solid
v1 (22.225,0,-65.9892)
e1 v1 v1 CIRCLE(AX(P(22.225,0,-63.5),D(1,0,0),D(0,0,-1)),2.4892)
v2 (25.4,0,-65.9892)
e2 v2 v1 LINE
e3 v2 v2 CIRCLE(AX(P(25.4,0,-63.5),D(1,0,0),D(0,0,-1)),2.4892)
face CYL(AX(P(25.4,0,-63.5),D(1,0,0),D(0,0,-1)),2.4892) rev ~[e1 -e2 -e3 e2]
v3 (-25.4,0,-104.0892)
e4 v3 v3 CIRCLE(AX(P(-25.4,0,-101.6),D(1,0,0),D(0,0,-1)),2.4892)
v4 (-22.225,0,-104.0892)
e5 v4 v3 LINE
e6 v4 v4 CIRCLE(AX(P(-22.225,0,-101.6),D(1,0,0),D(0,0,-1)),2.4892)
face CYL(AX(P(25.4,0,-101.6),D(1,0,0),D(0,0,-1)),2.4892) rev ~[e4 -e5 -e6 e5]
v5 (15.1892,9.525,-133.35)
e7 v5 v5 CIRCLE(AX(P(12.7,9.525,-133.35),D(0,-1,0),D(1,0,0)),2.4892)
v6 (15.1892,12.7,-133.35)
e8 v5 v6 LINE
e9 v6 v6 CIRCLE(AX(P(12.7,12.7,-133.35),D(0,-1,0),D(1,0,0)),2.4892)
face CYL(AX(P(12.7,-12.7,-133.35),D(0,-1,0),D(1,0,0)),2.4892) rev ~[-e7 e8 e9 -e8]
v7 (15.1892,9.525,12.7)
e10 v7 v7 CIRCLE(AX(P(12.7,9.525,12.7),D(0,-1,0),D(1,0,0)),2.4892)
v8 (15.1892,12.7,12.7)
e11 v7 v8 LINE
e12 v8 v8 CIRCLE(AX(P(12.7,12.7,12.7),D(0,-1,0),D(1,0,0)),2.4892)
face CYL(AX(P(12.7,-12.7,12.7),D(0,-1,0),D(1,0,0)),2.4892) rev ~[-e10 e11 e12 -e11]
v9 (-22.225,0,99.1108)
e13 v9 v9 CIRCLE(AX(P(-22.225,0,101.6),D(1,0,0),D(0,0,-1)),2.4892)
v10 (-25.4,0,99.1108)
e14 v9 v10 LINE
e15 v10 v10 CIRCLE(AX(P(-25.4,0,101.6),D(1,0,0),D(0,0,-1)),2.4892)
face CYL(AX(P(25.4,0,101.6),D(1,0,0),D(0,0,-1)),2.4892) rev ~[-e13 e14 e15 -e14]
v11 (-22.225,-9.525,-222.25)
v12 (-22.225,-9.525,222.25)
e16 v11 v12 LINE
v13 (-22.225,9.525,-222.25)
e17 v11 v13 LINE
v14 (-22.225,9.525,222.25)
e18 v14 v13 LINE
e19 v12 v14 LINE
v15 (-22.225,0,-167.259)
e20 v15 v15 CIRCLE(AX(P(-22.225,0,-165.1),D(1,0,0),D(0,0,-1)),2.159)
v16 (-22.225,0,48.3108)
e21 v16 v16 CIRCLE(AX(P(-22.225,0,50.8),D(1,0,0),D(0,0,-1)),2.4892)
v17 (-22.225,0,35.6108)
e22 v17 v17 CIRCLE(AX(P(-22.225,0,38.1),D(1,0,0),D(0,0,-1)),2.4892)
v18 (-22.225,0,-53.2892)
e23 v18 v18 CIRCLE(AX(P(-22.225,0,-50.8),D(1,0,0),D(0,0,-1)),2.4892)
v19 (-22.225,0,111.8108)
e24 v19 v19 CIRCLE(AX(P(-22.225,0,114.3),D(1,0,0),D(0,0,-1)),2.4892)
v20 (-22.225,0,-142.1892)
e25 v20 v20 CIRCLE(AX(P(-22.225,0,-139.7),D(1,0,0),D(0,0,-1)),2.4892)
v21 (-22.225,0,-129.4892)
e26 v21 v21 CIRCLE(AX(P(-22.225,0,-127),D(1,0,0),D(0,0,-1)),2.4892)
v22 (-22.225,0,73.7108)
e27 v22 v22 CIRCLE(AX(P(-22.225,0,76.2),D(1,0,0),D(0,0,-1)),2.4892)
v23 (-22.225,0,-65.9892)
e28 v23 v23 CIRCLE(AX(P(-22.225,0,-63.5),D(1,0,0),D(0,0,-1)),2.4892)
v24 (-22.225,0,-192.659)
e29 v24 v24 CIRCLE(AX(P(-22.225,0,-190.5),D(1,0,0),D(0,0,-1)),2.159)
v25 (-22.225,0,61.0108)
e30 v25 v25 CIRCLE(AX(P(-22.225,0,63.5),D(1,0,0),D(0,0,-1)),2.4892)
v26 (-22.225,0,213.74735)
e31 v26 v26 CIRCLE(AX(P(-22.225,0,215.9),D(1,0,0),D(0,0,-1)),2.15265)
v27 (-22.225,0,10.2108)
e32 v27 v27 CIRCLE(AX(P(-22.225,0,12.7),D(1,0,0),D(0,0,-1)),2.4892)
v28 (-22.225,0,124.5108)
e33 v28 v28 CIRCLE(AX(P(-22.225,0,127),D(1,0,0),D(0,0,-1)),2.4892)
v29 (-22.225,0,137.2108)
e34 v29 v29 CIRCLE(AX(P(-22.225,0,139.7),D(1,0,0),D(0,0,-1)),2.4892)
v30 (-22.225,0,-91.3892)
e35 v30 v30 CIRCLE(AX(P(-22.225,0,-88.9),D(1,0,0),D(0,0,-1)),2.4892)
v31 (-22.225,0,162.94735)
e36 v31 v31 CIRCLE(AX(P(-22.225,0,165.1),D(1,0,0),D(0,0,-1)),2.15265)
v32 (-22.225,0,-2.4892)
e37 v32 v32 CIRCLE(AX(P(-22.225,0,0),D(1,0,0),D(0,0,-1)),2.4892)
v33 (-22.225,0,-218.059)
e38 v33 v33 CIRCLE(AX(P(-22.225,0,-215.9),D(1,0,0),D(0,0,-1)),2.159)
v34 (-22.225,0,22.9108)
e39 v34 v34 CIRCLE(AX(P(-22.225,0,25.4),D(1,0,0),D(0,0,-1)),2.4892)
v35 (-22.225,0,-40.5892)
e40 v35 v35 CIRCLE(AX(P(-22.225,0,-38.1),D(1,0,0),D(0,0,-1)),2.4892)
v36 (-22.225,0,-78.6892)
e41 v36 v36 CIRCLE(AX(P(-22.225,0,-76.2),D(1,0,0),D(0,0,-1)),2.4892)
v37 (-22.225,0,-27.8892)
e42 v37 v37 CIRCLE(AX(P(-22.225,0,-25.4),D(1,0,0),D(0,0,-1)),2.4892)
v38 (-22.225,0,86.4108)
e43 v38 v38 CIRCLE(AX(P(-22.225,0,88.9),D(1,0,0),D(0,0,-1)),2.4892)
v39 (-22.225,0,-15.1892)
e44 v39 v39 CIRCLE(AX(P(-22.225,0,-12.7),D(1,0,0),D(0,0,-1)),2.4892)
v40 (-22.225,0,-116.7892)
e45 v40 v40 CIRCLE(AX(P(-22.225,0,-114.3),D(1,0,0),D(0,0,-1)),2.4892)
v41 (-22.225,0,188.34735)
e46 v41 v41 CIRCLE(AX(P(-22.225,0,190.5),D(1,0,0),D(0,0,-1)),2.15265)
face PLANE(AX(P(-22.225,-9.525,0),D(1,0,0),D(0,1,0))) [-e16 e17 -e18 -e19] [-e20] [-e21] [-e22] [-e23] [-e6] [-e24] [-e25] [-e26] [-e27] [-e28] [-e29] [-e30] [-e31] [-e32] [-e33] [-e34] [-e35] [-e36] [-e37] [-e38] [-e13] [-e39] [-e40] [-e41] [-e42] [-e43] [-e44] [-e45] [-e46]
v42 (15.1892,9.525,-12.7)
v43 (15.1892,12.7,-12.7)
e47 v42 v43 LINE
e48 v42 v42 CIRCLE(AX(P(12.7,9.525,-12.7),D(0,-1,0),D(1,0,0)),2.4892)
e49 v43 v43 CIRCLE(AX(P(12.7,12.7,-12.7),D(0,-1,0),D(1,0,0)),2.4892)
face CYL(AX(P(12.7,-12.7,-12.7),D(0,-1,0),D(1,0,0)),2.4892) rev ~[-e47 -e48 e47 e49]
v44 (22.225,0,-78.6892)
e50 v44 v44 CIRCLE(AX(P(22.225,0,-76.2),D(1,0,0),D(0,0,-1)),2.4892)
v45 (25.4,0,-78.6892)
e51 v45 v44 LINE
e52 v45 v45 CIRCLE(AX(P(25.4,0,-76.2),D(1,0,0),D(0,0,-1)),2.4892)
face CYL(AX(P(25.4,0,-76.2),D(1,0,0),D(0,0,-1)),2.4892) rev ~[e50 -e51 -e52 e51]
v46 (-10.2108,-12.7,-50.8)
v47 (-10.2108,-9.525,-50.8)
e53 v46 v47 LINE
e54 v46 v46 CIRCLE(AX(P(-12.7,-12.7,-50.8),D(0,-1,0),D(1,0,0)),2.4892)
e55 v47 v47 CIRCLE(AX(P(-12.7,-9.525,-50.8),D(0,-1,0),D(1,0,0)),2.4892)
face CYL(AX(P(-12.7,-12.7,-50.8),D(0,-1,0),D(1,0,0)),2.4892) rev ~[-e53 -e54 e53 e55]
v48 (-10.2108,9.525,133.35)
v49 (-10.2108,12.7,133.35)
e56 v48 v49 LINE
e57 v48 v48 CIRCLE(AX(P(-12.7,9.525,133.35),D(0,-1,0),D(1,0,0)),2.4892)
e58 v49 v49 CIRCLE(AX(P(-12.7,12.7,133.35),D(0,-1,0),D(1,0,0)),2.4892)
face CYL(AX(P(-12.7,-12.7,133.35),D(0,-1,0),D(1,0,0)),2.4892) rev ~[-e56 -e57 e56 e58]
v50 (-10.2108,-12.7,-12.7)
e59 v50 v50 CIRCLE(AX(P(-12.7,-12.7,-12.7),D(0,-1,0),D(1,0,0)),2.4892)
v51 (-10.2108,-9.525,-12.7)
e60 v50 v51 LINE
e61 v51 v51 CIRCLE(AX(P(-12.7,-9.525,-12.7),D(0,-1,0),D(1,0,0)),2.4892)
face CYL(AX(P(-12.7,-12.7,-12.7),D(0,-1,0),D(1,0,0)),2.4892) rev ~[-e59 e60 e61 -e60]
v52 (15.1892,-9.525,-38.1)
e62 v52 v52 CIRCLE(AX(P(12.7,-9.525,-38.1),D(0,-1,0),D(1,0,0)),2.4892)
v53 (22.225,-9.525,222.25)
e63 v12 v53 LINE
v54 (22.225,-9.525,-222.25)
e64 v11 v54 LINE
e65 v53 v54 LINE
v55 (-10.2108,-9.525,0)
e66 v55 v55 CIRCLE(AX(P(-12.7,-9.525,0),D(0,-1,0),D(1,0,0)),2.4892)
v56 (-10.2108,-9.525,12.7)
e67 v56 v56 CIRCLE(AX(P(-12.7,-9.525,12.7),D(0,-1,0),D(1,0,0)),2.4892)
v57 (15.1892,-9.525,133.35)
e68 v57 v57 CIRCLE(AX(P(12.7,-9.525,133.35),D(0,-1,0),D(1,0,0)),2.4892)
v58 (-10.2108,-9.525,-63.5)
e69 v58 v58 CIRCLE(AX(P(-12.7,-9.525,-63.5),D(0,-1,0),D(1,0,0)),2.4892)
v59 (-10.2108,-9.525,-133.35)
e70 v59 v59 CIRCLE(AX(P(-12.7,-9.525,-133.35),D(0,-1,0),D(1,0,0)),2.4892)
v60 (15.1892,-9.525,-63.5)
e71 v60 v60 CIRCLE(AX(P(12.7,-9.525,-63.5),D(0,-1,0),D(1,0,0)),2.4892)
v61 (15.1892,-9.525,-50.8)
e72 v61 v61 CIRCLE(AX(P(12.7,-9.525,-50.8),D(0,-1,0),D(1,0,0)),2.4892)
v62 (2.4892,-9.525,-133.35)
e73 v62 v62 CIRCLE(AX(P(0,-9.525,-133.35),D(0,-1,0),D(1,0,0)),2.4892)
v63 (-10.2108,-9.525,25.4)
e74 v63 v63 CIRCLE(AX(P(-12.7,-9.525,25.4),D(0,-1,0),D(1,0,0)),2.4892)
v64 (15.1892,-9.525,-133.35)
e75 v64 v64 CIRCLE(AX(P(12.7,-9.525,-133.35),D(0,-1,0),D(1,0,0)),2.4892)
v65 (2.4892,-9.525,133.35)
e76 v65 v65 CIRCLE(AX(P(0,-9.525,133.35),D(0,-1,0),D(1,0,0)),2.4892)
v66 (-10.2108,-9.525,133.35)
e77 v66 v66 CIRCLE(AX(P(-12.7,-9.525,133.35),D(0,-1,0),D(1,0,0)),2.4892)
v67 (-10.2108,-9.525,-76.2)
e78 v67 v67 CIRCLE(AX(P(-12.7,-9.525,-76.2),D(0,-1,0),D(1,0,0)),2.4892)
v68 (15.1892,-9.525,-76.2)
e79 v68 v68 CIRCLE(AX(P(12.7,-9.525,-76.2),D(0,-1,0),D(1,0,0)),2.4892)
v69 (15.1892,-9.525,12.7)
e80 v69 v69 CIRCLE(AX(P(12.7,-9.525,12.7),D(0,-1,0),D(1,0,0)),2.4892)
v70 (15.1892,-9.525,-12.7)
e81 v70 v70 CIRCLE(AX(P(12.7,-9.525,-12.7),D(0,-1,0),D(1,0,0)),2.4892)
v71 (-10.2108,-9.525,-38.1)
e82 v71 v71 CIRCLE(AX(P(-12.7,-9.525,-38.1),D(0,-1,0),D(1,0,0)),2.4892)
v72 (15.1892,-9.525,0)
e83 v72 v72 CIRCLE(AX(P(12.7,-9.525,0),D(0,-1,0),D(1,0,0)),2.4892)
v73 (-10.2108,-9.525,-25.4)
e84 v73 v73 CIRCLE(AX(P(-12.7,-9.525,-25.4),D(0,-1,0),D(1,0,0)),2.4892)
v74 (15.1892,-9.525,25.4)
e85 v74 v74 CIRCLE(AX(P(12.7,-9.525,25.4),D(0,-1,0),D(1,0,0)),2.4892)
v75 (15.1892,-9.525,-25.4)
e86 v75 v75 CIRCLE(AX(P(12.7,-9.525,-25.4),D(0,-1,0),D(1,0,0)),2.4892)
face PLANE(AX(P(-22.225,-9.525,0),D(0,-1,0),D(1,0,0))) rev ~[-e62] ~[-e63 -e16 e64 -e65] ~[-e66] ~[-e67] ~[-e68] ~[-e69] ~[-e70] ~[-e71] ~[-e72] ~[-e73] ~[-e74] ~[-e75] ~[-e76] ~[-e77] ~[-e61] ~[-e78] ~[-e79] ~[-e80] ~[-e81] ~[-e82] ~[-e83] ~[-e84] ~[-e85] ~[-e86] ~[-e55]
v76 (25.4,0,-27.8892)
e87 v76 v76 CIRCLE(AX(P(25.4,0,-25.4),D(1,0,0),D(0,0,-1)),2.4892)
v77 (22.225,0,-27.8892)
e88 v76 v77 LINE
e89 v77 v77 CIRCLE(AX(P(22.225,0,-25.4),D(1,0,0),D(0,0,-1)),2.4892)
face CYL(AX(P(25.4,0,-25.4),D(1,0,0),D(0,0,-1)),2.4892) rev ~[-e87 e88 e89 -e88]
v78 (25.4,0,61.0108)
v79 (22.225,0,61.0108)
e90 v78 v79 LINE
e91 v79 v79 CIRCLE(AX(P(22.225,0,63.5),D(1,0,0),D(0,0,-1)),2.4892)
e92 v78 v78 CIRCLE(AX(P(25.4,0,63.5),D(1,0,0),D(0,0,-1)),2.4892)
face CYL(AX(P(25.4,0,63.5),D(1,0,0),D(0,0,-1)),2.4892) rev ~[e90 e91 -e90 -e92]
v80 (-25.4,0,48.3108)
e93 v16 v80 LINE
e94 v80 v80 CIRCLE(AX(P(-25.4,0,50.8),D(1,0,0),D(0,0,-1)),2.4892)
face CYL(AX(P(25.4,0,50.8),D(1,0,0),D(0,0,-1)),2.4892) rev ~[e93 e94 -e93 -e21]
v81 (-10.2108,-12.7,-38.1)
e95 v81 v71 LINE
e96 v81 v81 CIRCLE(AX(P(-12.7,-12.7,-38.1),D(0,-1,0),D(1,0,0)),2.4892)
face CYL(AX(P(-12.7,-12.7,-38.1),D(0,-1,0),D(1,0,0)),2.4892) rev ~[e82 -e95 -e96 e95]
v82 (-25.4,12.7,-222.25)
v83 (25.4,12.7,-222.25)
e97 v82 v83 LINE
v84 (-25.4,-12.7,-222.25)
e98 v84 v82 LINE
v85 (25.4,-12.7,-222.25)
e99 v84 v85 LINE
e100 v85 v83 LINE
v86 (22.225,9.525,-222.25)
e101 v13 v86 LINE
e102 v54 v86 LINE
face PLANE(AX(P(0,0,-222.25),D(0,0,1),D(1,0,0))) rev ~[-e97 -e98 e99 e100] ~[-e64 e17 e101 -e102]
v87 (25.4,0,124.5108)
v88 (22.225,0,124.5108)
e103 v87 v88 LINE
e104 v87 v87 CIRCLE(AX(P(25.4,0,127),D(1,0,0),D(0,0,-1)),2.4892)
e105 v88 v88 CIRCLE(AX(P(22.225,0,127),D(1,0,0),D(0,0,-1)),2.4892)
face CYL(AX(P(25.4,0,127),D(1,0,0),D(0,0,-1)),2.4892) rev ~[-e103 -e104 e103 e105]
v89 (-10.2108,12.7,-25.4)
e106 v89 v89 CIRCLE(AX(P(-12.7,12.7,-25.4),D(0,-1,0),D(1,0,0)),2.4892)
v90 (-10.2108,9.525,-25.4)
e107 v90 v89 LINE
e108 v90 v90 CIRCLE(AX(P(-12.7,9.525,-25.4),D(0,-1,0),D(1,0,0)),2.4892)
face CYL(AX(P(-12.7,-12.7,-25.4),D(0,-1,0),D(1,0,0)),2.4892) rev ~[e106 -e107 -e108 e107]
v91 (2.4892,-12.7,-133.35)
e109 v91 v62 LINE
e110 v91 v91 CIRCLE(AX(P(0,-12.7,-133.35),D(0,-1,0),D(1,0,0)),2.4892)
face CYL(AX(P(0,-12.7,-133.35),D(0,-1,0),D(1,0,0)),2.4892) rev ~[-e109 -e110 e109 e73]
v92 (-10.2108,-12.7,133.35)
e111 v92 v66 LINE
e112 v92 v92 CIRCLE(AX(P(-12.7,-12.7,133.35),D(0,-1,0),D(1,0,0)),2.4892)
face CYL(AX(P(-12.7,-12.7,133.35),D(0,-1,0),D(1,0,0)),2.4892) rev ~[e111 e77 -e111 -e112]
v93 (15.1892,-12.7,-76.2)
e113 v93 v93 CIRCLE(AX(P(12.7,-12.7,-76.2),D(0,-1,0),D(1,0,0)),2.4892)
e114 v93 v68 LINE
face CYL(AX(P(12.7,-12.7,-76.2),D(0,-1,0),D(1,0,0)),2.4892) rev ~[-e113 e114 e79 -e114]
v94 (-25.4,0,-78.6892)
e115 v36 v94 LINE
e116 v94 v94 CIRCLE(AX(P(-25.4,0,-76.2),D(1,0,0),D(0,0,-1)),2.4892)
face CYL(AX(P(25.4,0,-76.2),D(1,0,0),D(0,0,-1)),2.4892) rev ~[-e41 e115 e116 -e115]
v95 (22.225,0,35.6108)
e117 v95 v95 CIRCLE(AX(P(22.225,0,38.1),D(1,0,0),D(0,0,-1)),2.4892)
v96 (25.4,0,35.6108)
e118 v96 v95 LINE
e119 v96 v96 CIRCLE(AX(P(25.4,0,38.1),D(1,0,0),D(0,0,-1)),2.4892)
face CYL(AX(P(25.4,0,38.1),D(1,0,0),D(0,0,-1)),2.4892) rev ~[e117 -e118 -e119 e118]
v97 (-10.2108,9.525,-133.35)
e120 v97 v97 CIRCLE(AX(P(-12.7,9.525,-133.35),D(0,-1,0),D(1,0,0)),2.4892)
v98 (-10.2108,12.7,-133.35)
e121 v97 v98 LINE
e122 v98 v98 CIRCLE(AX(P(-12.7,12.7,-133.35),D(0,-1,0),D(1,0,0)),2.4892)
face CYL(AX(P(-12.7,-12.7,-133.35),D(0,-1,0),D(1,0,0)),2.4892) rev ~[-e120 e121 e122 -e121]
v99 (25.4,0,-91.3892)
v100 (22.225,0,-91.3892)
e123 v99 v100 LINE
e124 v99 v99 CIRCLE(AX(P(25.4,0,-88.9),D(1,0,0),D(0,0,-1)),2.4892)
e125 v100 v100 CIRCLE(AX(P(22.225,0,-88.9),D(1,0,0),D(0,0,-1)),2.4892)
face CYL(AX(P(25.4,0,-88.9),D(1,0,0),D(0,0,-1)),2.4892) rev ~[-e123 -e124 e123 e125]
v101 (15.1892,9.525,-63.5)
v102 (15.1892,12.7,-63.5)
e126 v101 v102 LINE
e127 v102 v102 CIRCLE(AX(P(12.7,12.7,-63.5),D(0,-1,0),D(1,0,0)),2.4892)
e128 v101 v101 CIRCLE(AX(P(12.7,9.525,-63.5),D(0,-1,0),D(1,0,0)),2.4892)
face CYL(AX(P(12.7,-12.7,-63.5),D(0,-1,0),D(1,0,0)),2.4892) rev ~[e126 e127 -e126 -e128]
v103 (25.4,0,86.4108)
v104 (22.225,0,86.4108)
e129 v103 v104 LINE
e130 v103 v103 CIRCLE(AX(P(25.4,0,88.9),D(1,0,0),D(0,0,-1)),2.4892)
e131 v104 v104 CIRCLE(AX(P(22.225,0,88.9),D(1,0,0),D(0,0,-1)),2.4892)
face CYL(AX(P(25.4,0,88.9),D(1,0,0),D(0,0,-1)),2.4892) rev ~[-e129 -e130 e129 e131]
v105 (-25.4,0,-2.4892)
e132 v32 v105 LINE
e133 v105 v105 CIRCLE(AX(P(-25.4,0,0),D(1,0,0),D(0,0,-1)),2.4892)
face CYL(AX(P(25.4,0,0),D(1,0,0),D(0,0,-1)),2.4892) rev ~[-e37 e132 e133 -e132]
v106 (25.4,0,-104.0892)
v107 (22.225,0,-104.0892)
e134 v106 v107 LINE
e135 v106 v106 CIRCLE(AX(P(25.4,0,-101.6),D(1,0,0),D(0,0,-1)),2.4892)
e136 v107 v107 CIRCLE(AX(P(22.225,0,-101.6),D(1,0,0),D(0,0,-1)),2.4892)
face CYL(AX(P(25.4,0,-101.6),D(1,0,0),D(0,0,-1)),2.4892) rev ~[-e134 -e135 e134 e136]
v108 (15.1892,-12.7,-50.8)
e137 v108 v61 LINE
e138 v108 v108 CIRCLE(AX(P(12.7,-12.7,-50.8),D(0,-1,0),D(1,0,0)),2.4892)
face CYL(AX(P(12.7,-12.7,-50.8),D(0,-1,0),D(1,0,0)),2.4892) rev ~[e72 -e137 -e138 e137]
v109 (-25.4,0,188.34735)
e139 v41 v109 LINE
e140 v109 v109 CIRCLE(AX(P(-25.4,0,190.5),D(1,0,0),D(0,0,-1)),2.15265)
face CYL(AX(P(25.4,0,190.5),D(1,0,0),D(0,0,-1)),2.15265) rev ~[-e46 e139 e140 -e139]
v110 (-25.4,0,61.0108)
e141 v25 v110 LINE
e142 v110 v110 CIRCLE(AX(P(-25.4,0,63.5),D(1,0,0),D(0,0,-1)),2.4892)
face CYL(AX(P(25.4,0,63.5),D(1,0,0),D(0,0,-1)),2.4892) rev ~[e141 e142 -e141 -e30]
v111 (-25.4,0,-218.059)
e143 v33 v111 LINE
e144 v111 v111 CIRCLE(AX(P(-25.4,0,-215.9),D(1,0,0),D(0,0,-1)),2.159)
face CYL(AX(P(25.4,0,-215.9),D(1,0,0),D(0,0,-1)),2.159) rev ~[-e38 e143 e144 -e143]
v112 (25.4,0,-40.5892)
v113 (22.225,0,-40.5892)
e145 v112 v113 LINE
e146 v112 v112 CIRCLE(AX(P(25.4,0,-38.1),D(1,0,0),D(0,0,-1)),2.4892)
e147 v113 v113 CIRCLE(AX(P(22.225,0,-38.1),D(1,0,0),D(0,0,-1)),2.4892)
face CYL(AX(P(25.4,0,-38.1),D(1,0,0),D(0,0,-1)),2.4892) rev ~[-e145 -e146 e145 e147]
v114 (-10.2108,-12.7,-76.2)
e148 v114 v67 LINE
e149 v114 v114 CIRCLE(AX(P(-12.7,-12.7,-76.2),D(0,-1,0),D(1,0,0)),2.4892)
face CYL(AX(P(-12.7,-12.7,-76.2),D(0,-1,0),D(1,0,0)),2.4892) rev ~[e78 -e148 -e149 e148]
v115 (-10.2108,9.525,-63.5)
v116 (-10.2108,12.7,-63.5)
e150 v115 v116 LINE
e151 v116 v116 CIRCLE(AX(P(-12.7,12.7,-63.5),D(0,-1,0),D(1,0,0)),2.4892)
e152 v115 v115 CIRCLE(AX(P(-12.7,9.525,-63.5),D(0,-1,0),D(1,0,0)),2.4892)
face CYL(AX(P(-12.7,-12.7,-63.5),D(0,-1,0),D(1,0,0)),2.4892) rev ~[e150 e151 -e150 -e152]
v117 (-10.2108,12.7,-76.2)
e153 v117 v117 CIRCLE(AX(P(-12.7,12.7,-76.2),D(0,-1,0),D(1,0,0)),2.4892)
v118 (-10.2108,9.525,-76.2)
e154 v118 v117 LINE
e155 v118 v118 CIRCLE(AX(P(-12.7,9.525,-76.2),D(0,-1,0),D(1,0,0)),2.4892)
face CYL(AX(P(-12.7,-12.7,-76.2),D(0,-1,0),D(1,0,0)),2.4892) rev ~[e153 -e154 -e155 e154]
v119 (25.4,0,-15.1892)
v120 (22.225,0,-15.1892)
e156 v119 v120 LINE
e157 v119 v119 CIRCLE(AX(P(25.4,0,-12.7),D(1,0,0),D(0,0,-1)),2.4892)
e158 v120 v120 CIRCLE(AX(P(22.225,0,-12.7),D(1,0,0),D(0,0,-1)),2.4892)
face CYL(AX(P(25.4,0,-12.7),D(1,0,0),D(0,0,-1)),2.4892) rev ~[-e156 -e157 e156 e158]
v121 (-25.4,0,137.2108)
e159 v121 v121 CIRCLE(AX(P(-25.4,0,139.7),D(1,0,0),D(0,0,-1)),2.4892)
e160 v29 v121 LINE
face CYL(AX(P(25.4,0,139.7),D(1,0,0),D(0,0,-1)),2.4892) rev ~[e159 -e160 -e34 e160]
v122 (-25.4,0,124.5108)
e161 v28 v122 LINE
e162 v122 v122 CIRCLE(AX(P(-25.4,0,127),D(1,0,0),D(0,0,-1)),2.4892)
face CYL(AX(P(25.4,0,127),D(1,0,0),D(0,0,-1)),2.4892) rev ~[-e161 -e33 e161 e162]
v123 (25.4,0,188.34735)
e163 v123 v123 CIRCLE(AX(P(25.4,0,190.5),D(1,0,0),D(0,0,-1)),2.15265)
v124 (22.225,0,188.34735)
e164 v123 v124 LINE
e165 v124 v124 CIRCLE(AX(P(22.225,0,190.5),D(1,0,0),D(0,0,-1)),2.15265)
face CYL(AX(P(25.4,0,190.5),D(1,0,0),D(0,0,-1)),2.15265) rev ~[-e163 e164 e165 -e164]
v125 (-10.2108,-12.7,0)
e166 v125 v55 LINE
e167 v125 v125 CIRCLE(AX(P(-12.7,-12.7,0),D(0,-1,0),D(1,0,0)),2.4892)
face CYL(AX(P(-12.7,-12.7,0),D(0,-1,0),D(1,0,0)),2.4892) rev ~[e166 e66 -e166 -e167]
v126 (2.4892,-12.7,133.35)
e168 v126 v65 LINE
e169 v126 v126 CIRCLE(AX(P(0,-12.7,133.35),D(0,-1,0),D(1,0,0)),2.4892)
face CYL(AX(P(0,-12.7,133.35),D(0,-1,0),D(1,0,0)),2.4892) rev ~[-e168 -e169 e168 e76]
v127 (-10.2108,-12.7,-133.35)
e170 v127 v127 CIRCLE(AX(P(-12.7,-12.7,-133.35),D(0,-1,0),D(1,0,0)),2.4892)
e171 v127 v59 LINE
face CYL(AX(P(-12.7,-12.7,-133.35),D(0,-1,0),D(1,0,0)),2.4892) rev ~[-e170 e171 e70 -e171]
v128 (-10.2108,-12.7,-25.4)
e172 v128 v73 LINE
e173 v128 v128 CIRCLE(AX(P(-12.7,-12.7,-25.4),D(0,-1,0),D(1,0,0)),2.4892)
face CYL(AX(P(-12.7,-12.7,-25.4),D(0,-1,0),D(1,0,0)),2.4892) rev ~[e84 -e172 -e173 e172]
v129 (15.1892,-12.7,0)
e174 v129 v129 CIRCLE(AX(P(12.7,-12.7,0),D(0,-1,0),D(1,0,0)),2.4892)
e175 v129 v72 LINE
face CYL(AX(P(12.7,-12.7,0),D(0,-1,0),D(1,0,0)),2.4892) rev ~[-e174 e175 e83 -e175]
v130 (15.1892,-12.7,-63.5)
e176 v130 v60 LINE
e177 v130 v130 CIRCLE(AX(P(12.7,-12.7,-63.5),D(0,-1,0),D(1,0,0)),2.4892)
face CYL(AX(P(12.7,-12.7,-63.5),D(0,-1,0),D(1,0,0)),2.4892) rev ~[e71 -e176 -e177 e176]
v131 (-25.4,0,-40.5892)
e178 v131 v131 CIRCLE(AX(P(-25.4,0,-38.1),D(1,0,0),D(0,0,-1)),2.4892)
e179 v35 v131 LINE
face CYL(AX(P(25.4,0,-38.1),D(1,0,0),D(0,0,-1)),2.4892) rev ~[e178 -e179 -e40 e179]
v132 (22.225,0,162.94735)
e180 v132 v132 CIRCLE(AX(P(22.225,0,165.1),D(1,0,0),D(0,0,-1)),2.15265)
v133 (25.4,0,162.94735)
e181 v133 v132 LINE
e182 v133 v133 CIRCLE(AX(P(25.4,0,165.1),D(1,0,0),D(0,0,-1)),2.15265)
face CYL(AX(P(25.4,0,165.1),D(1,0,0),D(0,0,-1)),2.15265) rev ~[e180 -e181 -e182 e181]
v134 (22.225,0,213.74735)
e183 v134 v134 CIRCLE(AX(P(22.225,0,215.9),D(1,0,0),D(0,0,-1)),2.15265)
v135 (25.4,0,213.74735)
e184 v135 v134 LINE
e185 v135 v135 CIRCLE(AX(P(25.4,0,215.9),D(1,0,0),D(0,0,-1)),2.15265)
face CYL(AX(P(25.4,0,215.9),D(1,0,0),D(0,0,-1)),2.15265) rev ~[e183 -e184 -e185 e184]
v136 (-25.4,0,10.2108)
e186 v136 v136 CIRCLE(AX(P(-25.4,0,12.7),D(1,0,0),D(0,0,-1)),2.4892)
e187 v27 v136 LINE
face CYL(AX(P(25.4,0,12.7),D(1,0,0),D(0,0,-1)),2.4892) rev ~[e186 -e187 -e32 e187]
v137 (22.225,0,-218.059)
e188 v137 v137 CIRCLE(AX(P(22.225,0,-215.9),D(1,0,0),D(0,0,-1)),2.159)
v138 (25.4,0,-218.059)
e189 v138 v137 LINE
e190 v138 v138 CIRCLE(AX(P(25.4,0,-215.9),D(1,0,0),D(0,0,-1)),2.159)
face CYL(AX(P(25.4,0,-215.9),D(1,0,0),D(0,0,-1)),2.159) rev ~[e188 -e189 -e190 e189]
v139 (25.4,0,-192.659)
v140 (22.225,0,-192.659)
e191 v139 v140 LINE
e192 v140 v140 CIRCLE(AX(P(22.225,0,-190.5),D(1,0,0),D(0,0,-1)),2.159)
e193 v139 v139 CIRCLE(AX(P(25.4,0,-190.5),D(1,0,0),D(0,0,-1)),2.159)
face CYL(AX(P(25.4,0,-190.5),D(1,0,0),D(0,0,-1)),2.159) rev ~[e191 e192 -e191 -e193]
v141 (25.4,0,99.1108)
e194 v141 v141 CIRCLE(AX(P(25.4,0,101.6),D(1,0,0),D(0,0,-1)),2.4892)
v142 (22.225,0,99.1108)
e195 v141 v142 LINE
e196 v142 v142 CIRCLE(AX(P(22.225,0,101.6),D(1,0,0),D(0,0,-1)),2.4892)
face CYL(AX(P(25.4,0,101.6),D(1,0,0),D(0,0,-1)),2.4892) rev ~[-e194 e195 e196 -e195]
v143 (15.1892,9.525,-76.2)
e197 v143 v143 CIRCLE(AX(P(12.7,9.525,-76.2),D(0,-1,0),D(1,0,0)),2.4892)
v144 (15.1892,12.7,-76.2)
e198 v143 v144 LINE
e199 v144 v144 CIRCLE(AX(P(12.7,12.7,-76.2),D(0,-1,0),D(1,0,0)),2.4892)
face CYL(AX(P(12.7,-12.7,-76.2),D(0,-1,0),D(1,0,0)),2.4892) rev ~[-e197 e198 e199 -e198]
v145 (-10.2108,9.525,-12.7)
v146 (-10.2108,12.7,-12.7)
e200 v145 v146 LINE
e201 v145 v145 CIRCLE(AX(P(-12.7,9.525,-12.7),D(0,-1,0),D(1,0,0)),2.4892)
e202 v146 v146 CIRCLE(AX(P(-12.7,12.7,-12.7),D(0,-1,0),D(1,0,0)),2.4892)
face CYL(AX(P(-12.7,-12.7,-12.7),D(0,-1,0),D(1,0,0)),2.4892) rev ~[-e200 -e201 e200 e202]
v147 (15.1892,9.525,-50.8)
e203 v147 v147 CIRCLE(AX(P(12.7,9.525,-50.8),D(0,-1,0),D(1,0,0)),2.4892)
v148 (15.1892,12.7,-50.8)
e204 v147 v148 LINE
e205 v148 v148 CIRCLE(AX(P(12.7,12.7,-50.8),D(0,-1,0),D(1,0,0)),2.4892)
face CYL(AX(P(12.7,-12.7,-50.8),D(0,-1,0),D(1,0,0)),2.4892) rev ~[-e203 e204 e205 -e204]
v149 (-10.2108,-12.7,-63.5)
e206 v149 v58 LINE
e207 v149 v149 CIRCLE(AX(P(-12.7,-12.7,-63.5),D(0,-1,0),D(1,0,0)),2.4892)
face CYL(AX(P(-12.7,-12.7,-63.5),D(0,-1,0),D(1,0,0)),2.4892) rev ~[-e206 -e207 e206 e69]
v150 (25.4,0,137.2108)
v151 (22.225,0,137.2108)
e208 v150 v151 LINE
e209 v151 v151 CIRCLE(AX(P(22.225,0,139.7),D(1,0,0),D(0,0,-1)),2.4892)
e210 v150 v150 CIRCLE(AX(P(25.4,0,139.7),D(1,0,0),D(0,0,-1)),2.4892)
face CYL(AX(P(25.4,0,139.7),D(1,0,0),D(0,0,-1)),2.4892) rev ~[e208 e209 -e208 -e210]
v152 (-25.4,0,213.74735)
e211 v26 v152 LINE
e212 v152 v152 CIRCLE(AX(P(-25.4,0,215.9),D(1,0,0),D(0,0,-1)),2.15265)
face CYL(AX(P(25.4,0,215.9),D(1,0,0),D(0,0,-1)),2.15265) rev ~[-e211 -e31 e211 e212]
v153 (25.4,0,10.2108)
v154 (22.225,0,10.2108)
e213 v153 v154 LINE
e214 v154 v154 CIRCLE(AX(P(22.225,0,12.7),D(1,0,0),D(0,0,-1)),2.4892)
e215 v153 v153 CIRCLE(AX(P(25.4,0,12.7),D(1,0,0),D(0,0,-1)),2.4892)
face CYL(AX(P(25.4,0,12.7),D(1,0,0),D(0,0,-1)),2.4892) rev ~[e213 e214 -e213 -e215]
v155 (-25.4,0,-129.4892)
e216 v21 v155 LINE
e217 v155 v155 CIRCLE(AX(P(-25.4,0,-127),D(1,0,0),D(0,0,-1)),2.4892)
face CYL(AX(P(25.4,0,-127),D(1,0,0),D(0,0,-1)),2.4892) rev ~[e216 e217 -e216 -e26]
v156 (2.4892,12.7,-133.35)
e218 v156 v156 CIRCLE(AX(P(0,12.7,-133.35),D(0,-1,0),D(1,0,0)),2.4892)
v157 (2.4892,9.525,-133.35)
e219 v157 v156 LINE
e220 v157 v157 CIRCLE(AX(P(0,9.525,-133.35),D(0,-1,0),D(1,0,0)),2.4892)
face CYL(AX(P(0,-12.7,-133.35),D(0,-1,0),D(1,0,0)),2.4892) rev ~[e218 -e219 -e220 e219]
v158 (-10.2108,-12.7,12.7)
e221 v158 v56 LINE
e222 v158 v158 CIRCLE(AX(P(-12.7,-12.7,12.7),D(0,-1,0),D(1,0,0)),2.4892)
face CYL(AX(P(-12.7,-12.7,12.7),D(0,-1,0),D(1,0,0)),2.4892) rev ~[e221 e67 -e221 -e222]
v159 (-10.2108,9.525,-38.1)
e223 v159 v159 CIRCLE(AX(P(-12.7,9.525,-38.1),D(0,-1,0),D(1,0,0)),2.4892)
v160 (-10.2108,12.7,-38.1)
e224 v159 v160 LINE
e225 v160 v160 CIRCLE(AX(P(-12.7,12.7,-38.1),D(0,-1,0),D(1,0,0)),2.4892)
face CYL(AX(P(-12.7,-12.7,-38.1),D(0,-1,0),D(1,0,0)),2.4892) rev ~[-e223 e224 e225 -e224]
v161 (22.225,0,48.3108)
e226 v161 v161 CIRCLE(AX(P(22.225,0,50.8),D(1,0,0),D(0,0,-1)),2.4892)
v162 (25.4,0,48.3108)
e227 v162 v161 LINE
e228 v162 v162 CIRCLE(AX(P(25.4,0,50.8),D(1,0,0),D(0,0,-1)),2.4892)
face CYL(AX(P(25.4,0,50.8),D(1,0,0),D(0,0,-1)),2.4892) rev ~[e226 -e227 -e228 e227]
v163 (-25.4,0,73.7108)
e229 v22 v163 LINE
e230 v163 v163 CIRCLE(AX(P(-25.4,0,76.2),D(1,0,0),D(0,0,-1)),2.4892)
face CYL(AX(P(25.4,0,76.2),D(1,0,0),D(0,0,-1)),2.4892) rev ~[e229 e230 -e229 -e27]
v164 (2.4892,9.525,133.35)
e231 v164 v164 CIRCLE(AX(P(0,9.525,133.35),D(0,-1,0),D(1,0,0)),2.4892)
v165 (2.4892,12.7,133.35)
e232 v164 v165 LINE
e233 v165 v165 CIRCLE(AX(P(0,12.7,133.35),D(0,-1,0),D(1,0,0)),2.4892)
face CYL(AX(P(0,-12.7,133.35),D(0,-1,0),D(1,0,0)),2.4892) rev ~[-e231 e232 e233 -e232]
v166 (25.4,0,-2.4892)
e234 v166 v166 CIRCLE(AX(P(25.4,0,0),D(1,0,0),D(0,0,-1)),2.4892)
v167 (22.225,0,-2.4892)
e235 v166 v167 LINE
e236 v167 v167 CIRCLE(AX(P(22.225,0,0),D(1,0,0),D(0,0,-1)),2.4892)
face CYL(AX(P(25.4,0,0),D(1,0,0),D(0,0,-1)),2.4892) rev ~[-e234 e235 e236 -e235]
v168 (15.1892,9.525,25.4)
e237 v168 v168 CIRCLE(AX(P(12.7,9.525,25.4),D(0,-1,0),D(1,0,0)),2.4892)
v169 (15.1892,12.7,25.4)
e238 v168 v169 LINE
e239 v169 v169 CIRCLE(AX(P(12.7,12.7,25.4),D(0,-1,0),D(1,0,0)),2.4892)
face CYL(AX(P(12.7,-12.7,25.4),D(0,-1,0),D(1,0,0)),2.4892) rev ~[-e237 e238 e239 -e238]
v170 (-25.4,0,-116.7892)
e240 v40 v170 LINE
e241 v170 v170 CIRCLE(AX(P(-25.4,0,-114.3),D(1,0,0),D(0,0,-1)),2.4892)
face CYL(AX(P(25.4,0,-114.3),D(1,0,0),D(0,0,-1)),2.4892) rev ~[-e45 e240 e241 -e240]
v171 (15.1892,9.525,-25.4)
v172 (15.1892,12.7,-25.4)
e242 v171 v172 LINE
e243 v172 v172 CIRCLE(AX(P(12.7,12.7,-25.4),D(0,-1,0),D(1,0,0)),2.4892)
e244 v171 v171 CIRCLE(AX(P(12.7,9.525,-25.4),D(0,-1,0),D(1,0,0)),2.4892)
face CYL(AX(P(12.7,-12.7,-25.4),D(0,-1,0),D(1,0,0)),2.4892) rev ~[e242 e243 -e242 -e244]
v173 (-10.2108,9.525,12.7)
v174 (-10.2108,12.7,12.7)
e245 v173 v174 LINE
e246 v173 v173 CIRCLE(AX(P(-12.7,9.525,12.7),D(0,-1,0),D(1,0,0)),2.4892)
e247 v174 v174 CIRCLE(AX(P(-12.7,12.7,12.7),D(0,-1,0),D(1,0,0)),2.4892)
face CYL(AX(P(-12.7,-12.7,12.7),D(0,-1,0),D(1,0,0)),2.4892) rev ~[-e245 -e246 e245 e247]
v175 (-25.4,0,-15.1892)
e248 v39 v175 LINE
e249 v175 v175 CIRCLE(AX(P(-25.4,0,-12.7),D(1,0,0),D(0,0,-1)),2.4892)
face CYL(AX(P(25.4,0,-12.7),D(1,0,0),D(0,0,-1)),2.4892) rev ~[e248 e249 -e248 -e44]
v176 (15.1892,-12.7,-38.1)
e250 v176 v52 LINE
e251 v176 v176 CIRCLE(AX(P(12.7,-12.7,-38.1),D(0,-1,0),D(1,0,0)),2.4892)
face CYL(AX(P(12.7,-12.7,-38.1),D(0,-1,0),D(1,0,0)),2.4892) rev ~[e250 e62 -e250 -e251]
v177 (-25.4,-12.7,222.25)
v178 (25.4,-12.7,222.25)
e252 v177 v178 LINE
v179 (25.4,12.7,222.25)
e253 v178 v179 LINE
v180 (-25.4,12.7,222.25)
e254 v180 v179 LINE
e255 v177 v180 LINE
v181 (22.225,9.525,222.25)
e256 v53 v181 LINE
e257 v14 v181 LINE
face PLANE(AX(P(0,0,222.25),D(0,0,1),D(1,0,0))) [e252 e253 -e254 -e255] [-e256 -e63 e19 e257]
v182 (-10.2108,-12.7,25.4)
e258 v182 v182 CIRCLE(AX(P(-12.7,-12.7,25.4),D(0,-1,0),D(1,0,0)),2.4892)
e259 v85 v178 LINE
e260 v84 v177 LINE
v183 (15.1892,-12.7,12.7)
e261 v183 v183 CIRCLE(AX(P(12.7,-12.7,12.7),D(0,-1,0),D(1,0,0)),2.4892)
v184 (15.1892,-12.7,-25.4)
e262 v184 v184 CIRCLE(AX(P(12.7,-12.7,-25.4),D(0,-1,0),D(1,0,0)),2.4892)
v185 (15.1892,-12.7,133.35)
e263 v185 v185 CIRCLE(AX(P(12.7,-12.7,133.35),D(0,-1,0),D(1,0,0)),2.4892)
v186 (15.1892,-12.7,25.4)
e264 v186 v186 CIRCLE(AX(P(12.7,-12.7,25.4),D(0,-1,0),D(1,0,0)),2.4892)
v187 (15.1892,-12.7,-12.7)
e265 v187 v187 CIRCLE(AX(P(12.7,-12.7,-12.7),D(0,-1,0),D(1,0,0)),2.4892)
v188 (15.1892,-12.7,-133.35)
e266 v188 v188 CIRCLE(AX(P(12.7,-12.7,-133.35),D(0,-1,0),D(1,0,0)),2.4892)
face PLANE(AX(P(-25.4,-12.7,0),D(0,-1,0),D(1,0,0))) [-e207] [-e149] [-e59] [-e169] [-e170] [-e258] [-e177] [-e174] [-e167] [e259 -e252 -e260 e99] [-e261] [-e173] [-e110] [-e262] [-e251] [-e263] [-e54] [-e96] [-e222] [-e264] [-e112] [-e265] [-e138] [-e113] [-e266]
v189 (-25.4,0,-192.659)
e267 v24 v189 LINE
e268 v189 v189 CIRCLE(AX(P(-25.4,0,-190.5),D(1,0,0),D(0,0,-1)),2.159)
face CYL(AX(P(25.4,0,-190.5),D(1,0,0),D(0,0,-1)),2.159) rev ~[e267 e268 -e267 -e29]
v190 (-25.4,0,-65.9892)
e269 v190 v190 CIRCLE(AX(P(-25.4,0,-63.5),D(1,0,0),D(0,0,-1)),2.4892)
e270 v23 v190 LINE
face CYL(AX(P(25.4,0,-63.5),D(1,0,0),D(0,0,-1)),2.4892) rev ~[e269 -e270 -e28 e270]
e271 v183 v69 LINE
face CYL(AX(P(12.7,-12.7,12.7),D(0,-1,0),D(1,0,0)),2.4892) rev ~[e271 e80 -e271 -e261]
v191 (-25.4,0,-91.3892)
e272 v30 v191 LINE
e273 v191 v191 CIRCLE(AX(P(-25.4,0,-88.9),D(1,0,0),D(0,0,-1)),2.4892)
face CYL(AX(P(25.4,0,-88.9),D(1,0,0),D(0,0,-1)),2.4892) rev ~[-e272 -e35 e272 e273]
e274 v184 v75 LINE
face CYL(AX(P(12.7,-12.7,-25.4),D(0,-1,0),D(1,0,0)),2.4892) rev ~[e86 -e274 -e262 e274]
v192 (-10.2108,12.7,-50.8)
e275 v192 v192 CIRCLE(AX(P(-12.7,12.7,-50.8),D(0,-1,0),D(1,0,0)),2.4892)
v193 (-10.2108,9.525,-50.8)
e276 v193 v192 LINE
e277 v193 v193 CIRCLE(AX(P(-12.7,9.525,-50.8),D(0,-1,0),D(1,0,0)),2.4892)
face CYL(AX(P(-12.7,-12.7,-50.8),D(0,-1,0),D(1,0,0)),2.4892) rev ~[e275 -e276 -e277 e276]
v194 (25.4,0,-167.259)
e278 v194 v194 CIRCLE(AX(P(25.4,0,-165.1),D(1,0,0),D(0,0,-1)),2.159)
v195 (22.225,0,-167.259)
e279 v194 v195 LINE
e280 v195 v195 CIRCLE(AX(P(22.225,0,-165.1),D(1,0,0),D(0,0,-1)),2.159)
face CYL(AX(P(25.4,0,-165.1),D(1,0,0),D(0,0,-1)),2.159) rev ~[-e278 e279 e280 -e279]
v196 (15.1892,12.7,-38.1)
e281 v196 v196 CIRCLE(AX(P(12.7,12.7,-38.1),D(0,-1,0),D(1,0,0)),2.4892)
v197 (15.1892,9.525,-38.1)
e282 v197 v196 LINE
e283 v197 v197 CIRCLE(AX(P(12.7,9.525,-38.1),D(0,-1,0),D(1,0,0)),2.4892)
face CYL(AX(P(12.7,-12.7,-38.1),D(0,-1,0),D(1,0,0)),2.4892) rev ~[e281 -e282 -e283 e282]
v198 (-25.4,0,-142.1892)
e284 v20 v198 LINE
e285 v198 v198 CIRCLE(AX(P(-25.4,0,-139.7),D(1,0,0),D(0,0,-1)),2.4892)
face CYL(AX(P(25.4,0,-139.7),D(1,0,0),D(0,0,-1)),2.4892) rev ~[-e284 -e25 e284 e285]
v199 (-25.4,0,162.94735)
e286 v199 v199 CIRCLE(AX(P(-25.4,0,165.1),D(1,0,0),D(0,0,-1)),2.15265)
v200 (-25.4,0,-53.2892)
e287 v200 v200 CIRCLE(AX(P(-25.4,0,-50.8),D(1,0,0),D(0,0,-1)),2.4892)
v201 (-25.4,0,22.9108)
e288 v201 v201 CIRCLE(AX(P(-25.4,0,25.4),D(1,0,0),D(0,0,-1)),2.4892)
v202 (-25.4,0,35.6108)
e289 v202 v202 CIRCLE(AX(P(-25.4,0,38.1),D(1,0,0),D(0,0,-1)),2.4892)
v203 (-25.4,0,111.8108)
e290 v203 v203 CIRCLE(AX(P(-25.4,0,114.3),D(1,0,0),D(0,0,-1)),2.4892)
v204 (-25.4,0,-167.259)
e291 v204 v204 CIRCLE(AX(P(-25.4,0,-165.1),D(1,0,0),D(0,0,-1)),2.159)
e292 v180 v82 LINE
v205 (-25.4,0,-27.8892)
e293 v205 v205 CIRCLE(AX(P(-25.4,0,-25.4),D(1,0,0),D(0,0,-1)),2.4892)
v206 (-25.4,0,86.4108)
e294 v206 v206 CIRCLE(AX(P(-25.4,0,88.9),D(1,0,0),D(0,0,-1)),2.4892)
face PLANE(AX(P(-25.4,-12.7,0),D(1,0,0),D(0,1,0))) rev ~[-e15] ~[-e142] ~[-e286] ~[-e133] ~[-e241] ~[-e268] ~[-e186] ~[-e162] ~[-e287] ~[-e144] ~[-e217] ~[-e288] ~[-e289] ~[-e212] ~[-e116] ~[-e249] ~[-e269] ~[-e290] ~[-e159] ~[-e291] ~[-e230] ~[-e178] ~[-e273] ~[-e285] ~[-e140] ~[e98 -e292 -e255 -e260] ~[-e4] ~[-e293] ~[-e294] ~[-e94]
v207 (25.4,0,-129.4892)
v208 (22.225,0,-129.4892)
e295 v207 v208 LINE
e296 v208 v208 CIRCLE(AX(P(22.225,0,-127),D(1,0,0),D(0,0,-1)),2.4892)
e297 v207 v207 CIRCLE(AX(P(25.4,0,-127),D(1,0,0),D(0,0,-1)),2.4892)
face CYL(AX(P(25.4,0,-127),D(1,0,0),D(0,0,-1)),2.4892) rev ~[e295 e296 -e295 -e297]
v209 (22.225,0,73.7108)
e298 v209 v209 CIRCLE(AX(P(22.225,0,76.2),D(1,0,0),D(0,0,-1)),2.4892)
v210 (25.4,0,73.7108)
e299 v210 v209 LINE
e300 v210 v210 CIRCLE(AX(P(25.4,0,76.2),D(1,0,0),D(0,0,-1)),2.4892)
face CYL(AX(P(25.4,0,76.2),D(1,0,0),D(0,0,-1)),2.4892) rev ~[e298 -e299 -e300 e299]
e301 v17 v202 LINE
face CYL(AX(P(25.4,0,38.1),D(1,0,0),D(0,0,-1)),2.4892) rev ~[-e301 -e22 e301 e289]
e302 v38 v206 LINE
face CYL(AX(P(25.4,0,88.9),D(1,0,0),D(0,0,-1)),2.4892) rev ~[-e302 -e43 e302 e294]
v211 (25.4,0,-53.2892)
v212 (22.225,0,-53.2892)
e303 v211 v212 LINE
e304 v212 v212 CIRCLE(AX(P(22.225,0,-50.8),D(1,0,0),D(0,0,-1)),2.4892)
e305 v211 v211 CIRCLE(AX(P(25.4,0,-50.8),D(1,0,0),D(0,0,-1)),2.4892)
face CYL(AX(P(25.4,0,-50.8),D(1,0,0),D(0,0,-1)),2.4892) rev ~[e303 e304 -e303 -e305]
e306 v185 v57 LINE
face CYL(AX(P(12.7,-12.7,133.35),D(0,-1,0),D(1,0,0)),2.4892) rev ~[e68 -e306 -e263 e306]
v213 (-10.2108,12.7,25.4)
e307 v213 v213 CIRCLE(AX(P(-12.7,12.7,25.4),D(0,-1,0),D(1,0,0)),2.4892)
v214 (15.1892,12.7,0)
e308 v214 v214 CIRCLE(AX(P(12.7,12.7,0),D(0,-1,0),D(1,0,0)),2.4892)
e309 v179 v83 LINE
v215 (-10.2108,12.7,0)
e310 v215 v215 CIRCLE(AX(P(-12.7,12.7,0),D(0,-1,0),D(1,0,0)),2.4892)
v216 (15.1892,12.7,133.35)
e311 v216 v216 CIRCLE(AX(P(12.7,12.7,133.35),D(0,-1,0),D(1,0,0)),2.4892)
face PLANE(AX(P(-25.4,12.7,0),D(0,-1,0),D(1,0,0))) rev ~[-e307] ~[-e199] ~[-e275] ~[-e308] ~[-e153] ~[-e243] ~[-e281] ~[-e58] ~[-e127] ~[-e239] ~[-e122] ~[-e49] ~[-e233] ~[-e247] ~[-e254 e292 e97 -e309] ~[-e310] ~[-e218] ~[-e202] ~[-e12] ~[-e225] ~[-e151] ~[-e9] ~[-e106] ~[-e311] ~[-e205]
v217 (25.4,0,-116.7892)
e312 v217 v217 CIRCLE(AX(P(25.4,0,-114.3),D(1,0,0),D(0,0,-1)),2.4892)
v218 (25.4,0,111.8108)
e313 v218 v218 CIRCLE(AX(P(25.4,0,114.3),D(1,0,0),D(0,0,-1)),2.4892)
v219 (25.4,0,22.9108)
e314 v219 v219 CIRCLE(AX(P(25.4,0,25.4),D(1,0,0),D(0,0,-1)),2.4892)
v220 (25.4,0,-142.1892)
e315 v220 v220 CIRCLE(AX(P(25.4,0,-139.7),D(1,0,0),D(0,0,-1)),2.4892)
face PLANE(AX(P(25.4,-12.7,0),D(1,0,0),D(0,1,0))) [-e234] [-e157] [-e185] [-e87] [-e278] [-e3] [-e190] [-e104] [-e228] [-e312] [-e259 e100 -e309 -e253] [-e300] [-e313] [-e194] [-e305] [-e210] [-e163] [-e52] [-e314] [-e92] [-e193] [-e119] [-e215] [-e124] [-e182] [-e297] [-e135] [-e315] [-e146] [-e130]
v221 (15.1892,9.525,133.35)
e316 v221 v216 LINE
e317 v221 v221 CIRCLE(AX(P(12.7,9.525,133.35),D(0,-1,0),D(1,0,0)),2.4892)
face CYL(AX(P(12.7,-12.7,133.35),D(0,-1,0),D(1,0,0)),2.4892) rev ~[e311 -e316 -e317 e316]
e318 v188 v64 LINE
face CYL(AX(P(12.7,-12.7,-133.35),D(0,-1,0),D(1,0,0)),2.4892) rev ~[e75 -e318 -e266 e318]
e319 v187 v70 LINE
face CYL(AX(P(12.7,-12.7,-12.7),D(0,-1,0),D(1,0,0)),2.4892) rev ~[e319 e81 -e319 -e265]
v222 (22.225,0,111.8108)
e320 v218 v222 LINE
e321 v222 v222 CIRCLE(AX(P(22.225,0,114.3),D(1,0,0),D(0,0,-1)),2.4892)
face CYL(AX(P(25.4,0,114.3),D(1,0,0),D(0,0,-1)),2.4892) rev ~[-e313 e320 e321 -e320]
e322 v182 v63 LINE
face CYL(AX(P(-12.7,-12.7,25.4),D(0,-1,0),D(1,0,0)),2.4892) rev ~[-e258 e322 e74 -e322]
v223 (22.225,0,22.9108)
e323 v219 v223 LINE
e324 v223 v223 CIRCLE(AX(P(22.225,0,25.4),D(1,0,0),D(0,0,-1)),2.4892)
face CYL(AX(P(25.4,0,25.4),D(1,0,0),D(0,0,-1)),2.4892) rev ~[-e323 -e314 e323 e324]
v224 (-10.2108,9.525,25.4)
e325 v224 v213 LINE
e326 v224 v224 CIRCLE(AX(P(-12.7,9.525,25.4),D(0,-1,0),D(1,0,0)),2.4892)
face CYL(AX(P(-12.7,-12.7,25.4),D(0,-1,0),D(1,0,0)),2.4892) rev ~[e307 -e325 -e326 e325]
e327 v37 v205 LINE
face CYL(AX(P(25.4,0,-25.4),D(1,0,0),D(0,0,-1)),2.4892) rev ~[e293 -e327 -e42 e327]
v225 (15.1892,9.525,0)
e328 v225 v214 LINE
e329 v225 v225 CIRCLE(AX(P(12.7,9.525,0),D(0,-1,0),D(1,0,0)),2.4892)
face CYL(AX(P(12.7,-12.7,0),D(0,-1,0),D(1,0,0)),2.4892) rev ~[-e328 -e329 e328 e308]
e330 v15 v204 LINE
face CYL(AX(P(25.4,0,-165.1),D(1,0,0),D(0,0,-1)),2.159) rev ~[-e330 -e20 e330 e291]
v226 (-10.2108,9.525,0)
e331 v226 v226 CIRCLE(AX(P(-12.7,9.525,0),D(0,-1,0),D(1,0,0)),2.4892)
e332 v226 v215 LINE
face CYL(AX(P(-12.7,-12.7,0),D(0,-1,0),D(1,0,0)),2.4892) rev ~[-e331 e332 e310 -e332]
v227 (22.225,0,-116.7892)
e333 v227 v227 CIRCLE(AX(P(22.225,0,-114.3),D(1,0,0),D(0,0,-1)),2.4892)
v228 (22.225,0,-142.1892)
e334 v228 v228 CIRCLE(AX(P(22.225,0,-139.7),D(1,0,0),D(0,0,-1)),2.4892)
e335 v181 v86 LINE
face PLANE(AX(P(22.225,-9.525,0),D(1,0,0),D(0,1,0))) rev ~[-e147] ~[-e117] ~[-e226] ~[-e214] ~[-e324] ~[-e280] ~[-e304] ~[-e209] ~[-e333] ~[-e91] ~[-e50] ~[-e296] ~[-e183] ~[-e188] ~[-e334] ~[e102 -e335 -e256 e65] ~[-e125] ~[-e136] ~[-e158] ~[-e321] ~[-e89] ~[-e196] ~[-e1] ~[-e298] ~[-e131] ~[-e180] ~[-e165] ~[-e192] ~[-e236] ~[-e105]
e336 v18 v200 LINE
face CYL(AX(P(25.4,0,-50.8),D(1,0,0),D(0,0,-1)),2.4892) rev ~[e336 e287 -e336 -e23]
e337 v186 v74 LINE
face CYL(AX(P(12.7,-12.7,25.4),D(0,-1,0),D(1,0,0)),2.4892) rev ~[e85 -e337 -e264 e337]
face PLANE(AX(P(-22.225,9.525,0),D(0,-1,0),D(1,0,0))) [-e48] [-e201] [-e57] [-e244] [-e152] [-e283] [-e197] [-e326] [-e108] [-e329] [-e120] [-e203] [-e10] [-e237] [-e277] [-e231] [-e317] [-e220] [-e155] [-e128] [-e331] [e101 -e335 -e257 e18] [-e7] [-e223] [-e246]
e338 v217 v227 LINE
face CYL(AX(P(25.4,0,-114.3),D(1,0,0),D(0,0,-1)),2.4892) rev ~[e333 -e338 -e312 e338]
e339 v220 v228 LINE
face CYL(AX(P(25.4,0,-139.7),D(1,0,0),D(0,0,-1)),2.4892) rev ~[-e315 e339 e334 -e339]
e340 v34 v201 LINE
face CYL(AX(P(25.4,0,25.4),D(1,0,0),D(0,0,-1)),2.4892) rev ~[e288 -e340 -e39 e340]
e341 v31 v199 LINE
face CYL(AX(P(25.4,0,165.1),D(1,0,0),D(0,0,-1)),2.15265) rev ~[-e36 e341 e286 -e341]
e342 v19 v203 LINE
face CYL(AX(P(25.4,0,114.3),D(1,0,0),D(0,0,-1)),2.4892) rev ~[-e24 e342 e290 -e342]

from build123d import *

# Parameters (mm, degrees)
SKETCH1_W           = 50.8
SKETCH1_H           = 25.4
SKETCH1_W_2         = 44.45
SKETCH1_H_2         = 19.05
BOSS_EXTRUDE1_DEPTH = 222.25
SKETCH3_R           = 2.15265
SKETCH3_R_2         = 2.159
CUT_EXTRUDE2_DEPTH  = 51.8
SKETCH4_R           = 2.4892
CUT_EXTRUDE3_DEPTH  = 51.8
SKETCH5_R           = 2.4892
CUT_EXTRUDE4_DEPTH  = 26.4


with BuildPart() as part:
    # Sketch1 → Boss-Extrude1 (new body, symmetric)
    with BuildSketch(Plane.XY):
        Rectangle(SKETCH1_W, SKETCH1_H)
        Rectangle(SKETCH1_W_2, SKETCH1_H_2, mode=Mode.SUBTRACT)
    extrude(amount=BOSS_EXTRUDE1_DEPTH, both=True)

    # Sketch3 → Cut-Extrude2 (cut, through all)
    with BuildSketch(Plane(origin=(25.4, 0, 0), x_dir=(0, 0, -1), z_dir=(1, 0, 0))):
        with Locations((-215.9, 0)):
            Circle(SKETCH3_R)
        with Locations((-190.5, 0)):
            Circle(SKETCH3_R)
        with Locations((-165.1, 0)):
            Circle(SKETCH3_R)
        with Locations((215.9, 0)):
            Circle(SKETCH3_R_2)
        with Locations((190.5, 0)):
            Circle(SKETCH3_R_2)
        with Locations((165.1, 0)):
            Circle(SKETCH3_R_2)
    extrude(amount=-CUT_EXTRUDE2_DEPTH, mode=Mode.SUBTRACT)

    # Sketch4 → Cut-Extrude3 (cut, through all)
    with BuildSketch(Plane(origin=(25.4, 0, 0), x_dir=(0, 0, -1), z_dir=(1, 0, 0))):
        with Locations((-139.7, 0)):
            Circle(SKETCH4_R)
        with Locations((-127, 0)):
            Circle(SKETCH4_R)
        with Locations((-114.3, 0)):
            Circle(SKETCH4_R)
        with Locations((-101.6, 0)):
            Circle(SKETCH4_R)
        with Locations((-88.9, 0)):
            Circle(SKETCH4_R)
        with Locations((-76.2, 0)):
            Circle(SKETCH4_R)
        with Locations((-63.5, 0)):
            Circle(SKETCH4_R)
        with Locations((-50.8, 0)):
            Circle(SKETCH4_R)
        with Locations((-38.1, 0)):
            Circle(SKETCH4_R)
        with Locations((-25.4, 0)):
            Circle(SKETCH4_R)
        with Locations((-12.7, 0)):
            Circle(SKETCH4_R)
        Circle(SKETCH4_R)
        with Locations((12.7, 0)):
            Circle(SKETCH4_R)
        with Locations((25.4, 0)):
            Circle(SKETCH4_R)
        with Locations((38.1, 0)):
            Circle(SKETCH4_R)
        with Locations((50.8, 0)):
            Circle(SKETCH4_R)
        with Locations((63.5, 0)):
            Circle(SKETCH4_R)
        with Locations((76.2, 0)):
            Circle(SKETCH4_R)
        with Locations((88.9, 0)):
            Circle(SKETCH4_R)
        with Locations((101.6, 0)):
            Circle(SKETCH4_R)
        with Locations((114.3, 0)):
            Circle(SKETCH4_R)
        with Locations((127, 0)):
            Circle(SKETCH4_R)
        with Locations((139.7, 0)):
            Circle(SKETCH4_R)
    extrude(amount=-CUT_EXTRUDE3_DEPTH, mode=Mode.SUBTRACT)

    # Sketch5 → Cut-Extrude4 (cut, through all)
    with BuildSketch(Plane.XZ.offset(12.7)):
        with Locations((-12.7, 133.35)):
            Circle(SKETCH5_R)
        with Locations((0, 133.35)):
            Circle(SKETCH5_R)
        with Locations((12.7, 133.35)):
            Circle(SKETCH5_R)
        with Locations((12.7, -133.35)):
            Circle(SKETCH5_R)
        with Locations((0, -133.35)):
            Circle(SKETCH5_R)
        with Locations((-12.7, -133.35)):
            Circle(SKETCH5_R)
        with Locations((-12.7, 25.4)):
            Circle(SKETCH5_R)
        with Locations((12.7, 25.4)):
            Circle(SKETCH5_R)
        with Locations((12.7, 12.7)):
            Circle(SKETCH5_R)
        with Locations((-12.7, 12.7)):
            Circle(SKETCH5_R)
        with Locations((12.7, 0)):
            Circle(SKETCH5_R)
        with Locations((-12.7, 0)):
            Circle(SKETCH5_R)
        with Locations((12.7, -12.7)):
            Circle(SKETCH5_R)
        with Locations((-12.7, -12.7)):
            Circle(SKETCH5_R)
        with Locations((12.7, -25.4)):
            Circle(SKETCH5_R)
        with Locations((-12.7, -25.4)):
            Circle(SKETCH5_R)
        with Locations((12.7, -38.1)):
            Circle(SKETCH5_R)
        with Locations((-12.7, -38.1)):
            Circle(SKETCH5_R)
        with Locations((12.7, -50.8)):
            Circle(SKETCH5_R)
        with Locations((-12.7, -50.8)):
            Circle(SKETCH5_R)
        with Locations((12.7, -63.5)):
            Circle(SKETCH5_R)
        with Locations((-12.7, -63.5)):
            Circle(SKETCH5_R)
        with Locations((12.7, -76.2)):
            Circle(SKETCH5_R)
        with Locations((-12.7, -76.2)):
            Circle(SKETCH5_R)
    extrude(amount=-CUT_EXTRUDE4_DEPTH, mode=Mode.SUBTRACT)


solid = part.part
